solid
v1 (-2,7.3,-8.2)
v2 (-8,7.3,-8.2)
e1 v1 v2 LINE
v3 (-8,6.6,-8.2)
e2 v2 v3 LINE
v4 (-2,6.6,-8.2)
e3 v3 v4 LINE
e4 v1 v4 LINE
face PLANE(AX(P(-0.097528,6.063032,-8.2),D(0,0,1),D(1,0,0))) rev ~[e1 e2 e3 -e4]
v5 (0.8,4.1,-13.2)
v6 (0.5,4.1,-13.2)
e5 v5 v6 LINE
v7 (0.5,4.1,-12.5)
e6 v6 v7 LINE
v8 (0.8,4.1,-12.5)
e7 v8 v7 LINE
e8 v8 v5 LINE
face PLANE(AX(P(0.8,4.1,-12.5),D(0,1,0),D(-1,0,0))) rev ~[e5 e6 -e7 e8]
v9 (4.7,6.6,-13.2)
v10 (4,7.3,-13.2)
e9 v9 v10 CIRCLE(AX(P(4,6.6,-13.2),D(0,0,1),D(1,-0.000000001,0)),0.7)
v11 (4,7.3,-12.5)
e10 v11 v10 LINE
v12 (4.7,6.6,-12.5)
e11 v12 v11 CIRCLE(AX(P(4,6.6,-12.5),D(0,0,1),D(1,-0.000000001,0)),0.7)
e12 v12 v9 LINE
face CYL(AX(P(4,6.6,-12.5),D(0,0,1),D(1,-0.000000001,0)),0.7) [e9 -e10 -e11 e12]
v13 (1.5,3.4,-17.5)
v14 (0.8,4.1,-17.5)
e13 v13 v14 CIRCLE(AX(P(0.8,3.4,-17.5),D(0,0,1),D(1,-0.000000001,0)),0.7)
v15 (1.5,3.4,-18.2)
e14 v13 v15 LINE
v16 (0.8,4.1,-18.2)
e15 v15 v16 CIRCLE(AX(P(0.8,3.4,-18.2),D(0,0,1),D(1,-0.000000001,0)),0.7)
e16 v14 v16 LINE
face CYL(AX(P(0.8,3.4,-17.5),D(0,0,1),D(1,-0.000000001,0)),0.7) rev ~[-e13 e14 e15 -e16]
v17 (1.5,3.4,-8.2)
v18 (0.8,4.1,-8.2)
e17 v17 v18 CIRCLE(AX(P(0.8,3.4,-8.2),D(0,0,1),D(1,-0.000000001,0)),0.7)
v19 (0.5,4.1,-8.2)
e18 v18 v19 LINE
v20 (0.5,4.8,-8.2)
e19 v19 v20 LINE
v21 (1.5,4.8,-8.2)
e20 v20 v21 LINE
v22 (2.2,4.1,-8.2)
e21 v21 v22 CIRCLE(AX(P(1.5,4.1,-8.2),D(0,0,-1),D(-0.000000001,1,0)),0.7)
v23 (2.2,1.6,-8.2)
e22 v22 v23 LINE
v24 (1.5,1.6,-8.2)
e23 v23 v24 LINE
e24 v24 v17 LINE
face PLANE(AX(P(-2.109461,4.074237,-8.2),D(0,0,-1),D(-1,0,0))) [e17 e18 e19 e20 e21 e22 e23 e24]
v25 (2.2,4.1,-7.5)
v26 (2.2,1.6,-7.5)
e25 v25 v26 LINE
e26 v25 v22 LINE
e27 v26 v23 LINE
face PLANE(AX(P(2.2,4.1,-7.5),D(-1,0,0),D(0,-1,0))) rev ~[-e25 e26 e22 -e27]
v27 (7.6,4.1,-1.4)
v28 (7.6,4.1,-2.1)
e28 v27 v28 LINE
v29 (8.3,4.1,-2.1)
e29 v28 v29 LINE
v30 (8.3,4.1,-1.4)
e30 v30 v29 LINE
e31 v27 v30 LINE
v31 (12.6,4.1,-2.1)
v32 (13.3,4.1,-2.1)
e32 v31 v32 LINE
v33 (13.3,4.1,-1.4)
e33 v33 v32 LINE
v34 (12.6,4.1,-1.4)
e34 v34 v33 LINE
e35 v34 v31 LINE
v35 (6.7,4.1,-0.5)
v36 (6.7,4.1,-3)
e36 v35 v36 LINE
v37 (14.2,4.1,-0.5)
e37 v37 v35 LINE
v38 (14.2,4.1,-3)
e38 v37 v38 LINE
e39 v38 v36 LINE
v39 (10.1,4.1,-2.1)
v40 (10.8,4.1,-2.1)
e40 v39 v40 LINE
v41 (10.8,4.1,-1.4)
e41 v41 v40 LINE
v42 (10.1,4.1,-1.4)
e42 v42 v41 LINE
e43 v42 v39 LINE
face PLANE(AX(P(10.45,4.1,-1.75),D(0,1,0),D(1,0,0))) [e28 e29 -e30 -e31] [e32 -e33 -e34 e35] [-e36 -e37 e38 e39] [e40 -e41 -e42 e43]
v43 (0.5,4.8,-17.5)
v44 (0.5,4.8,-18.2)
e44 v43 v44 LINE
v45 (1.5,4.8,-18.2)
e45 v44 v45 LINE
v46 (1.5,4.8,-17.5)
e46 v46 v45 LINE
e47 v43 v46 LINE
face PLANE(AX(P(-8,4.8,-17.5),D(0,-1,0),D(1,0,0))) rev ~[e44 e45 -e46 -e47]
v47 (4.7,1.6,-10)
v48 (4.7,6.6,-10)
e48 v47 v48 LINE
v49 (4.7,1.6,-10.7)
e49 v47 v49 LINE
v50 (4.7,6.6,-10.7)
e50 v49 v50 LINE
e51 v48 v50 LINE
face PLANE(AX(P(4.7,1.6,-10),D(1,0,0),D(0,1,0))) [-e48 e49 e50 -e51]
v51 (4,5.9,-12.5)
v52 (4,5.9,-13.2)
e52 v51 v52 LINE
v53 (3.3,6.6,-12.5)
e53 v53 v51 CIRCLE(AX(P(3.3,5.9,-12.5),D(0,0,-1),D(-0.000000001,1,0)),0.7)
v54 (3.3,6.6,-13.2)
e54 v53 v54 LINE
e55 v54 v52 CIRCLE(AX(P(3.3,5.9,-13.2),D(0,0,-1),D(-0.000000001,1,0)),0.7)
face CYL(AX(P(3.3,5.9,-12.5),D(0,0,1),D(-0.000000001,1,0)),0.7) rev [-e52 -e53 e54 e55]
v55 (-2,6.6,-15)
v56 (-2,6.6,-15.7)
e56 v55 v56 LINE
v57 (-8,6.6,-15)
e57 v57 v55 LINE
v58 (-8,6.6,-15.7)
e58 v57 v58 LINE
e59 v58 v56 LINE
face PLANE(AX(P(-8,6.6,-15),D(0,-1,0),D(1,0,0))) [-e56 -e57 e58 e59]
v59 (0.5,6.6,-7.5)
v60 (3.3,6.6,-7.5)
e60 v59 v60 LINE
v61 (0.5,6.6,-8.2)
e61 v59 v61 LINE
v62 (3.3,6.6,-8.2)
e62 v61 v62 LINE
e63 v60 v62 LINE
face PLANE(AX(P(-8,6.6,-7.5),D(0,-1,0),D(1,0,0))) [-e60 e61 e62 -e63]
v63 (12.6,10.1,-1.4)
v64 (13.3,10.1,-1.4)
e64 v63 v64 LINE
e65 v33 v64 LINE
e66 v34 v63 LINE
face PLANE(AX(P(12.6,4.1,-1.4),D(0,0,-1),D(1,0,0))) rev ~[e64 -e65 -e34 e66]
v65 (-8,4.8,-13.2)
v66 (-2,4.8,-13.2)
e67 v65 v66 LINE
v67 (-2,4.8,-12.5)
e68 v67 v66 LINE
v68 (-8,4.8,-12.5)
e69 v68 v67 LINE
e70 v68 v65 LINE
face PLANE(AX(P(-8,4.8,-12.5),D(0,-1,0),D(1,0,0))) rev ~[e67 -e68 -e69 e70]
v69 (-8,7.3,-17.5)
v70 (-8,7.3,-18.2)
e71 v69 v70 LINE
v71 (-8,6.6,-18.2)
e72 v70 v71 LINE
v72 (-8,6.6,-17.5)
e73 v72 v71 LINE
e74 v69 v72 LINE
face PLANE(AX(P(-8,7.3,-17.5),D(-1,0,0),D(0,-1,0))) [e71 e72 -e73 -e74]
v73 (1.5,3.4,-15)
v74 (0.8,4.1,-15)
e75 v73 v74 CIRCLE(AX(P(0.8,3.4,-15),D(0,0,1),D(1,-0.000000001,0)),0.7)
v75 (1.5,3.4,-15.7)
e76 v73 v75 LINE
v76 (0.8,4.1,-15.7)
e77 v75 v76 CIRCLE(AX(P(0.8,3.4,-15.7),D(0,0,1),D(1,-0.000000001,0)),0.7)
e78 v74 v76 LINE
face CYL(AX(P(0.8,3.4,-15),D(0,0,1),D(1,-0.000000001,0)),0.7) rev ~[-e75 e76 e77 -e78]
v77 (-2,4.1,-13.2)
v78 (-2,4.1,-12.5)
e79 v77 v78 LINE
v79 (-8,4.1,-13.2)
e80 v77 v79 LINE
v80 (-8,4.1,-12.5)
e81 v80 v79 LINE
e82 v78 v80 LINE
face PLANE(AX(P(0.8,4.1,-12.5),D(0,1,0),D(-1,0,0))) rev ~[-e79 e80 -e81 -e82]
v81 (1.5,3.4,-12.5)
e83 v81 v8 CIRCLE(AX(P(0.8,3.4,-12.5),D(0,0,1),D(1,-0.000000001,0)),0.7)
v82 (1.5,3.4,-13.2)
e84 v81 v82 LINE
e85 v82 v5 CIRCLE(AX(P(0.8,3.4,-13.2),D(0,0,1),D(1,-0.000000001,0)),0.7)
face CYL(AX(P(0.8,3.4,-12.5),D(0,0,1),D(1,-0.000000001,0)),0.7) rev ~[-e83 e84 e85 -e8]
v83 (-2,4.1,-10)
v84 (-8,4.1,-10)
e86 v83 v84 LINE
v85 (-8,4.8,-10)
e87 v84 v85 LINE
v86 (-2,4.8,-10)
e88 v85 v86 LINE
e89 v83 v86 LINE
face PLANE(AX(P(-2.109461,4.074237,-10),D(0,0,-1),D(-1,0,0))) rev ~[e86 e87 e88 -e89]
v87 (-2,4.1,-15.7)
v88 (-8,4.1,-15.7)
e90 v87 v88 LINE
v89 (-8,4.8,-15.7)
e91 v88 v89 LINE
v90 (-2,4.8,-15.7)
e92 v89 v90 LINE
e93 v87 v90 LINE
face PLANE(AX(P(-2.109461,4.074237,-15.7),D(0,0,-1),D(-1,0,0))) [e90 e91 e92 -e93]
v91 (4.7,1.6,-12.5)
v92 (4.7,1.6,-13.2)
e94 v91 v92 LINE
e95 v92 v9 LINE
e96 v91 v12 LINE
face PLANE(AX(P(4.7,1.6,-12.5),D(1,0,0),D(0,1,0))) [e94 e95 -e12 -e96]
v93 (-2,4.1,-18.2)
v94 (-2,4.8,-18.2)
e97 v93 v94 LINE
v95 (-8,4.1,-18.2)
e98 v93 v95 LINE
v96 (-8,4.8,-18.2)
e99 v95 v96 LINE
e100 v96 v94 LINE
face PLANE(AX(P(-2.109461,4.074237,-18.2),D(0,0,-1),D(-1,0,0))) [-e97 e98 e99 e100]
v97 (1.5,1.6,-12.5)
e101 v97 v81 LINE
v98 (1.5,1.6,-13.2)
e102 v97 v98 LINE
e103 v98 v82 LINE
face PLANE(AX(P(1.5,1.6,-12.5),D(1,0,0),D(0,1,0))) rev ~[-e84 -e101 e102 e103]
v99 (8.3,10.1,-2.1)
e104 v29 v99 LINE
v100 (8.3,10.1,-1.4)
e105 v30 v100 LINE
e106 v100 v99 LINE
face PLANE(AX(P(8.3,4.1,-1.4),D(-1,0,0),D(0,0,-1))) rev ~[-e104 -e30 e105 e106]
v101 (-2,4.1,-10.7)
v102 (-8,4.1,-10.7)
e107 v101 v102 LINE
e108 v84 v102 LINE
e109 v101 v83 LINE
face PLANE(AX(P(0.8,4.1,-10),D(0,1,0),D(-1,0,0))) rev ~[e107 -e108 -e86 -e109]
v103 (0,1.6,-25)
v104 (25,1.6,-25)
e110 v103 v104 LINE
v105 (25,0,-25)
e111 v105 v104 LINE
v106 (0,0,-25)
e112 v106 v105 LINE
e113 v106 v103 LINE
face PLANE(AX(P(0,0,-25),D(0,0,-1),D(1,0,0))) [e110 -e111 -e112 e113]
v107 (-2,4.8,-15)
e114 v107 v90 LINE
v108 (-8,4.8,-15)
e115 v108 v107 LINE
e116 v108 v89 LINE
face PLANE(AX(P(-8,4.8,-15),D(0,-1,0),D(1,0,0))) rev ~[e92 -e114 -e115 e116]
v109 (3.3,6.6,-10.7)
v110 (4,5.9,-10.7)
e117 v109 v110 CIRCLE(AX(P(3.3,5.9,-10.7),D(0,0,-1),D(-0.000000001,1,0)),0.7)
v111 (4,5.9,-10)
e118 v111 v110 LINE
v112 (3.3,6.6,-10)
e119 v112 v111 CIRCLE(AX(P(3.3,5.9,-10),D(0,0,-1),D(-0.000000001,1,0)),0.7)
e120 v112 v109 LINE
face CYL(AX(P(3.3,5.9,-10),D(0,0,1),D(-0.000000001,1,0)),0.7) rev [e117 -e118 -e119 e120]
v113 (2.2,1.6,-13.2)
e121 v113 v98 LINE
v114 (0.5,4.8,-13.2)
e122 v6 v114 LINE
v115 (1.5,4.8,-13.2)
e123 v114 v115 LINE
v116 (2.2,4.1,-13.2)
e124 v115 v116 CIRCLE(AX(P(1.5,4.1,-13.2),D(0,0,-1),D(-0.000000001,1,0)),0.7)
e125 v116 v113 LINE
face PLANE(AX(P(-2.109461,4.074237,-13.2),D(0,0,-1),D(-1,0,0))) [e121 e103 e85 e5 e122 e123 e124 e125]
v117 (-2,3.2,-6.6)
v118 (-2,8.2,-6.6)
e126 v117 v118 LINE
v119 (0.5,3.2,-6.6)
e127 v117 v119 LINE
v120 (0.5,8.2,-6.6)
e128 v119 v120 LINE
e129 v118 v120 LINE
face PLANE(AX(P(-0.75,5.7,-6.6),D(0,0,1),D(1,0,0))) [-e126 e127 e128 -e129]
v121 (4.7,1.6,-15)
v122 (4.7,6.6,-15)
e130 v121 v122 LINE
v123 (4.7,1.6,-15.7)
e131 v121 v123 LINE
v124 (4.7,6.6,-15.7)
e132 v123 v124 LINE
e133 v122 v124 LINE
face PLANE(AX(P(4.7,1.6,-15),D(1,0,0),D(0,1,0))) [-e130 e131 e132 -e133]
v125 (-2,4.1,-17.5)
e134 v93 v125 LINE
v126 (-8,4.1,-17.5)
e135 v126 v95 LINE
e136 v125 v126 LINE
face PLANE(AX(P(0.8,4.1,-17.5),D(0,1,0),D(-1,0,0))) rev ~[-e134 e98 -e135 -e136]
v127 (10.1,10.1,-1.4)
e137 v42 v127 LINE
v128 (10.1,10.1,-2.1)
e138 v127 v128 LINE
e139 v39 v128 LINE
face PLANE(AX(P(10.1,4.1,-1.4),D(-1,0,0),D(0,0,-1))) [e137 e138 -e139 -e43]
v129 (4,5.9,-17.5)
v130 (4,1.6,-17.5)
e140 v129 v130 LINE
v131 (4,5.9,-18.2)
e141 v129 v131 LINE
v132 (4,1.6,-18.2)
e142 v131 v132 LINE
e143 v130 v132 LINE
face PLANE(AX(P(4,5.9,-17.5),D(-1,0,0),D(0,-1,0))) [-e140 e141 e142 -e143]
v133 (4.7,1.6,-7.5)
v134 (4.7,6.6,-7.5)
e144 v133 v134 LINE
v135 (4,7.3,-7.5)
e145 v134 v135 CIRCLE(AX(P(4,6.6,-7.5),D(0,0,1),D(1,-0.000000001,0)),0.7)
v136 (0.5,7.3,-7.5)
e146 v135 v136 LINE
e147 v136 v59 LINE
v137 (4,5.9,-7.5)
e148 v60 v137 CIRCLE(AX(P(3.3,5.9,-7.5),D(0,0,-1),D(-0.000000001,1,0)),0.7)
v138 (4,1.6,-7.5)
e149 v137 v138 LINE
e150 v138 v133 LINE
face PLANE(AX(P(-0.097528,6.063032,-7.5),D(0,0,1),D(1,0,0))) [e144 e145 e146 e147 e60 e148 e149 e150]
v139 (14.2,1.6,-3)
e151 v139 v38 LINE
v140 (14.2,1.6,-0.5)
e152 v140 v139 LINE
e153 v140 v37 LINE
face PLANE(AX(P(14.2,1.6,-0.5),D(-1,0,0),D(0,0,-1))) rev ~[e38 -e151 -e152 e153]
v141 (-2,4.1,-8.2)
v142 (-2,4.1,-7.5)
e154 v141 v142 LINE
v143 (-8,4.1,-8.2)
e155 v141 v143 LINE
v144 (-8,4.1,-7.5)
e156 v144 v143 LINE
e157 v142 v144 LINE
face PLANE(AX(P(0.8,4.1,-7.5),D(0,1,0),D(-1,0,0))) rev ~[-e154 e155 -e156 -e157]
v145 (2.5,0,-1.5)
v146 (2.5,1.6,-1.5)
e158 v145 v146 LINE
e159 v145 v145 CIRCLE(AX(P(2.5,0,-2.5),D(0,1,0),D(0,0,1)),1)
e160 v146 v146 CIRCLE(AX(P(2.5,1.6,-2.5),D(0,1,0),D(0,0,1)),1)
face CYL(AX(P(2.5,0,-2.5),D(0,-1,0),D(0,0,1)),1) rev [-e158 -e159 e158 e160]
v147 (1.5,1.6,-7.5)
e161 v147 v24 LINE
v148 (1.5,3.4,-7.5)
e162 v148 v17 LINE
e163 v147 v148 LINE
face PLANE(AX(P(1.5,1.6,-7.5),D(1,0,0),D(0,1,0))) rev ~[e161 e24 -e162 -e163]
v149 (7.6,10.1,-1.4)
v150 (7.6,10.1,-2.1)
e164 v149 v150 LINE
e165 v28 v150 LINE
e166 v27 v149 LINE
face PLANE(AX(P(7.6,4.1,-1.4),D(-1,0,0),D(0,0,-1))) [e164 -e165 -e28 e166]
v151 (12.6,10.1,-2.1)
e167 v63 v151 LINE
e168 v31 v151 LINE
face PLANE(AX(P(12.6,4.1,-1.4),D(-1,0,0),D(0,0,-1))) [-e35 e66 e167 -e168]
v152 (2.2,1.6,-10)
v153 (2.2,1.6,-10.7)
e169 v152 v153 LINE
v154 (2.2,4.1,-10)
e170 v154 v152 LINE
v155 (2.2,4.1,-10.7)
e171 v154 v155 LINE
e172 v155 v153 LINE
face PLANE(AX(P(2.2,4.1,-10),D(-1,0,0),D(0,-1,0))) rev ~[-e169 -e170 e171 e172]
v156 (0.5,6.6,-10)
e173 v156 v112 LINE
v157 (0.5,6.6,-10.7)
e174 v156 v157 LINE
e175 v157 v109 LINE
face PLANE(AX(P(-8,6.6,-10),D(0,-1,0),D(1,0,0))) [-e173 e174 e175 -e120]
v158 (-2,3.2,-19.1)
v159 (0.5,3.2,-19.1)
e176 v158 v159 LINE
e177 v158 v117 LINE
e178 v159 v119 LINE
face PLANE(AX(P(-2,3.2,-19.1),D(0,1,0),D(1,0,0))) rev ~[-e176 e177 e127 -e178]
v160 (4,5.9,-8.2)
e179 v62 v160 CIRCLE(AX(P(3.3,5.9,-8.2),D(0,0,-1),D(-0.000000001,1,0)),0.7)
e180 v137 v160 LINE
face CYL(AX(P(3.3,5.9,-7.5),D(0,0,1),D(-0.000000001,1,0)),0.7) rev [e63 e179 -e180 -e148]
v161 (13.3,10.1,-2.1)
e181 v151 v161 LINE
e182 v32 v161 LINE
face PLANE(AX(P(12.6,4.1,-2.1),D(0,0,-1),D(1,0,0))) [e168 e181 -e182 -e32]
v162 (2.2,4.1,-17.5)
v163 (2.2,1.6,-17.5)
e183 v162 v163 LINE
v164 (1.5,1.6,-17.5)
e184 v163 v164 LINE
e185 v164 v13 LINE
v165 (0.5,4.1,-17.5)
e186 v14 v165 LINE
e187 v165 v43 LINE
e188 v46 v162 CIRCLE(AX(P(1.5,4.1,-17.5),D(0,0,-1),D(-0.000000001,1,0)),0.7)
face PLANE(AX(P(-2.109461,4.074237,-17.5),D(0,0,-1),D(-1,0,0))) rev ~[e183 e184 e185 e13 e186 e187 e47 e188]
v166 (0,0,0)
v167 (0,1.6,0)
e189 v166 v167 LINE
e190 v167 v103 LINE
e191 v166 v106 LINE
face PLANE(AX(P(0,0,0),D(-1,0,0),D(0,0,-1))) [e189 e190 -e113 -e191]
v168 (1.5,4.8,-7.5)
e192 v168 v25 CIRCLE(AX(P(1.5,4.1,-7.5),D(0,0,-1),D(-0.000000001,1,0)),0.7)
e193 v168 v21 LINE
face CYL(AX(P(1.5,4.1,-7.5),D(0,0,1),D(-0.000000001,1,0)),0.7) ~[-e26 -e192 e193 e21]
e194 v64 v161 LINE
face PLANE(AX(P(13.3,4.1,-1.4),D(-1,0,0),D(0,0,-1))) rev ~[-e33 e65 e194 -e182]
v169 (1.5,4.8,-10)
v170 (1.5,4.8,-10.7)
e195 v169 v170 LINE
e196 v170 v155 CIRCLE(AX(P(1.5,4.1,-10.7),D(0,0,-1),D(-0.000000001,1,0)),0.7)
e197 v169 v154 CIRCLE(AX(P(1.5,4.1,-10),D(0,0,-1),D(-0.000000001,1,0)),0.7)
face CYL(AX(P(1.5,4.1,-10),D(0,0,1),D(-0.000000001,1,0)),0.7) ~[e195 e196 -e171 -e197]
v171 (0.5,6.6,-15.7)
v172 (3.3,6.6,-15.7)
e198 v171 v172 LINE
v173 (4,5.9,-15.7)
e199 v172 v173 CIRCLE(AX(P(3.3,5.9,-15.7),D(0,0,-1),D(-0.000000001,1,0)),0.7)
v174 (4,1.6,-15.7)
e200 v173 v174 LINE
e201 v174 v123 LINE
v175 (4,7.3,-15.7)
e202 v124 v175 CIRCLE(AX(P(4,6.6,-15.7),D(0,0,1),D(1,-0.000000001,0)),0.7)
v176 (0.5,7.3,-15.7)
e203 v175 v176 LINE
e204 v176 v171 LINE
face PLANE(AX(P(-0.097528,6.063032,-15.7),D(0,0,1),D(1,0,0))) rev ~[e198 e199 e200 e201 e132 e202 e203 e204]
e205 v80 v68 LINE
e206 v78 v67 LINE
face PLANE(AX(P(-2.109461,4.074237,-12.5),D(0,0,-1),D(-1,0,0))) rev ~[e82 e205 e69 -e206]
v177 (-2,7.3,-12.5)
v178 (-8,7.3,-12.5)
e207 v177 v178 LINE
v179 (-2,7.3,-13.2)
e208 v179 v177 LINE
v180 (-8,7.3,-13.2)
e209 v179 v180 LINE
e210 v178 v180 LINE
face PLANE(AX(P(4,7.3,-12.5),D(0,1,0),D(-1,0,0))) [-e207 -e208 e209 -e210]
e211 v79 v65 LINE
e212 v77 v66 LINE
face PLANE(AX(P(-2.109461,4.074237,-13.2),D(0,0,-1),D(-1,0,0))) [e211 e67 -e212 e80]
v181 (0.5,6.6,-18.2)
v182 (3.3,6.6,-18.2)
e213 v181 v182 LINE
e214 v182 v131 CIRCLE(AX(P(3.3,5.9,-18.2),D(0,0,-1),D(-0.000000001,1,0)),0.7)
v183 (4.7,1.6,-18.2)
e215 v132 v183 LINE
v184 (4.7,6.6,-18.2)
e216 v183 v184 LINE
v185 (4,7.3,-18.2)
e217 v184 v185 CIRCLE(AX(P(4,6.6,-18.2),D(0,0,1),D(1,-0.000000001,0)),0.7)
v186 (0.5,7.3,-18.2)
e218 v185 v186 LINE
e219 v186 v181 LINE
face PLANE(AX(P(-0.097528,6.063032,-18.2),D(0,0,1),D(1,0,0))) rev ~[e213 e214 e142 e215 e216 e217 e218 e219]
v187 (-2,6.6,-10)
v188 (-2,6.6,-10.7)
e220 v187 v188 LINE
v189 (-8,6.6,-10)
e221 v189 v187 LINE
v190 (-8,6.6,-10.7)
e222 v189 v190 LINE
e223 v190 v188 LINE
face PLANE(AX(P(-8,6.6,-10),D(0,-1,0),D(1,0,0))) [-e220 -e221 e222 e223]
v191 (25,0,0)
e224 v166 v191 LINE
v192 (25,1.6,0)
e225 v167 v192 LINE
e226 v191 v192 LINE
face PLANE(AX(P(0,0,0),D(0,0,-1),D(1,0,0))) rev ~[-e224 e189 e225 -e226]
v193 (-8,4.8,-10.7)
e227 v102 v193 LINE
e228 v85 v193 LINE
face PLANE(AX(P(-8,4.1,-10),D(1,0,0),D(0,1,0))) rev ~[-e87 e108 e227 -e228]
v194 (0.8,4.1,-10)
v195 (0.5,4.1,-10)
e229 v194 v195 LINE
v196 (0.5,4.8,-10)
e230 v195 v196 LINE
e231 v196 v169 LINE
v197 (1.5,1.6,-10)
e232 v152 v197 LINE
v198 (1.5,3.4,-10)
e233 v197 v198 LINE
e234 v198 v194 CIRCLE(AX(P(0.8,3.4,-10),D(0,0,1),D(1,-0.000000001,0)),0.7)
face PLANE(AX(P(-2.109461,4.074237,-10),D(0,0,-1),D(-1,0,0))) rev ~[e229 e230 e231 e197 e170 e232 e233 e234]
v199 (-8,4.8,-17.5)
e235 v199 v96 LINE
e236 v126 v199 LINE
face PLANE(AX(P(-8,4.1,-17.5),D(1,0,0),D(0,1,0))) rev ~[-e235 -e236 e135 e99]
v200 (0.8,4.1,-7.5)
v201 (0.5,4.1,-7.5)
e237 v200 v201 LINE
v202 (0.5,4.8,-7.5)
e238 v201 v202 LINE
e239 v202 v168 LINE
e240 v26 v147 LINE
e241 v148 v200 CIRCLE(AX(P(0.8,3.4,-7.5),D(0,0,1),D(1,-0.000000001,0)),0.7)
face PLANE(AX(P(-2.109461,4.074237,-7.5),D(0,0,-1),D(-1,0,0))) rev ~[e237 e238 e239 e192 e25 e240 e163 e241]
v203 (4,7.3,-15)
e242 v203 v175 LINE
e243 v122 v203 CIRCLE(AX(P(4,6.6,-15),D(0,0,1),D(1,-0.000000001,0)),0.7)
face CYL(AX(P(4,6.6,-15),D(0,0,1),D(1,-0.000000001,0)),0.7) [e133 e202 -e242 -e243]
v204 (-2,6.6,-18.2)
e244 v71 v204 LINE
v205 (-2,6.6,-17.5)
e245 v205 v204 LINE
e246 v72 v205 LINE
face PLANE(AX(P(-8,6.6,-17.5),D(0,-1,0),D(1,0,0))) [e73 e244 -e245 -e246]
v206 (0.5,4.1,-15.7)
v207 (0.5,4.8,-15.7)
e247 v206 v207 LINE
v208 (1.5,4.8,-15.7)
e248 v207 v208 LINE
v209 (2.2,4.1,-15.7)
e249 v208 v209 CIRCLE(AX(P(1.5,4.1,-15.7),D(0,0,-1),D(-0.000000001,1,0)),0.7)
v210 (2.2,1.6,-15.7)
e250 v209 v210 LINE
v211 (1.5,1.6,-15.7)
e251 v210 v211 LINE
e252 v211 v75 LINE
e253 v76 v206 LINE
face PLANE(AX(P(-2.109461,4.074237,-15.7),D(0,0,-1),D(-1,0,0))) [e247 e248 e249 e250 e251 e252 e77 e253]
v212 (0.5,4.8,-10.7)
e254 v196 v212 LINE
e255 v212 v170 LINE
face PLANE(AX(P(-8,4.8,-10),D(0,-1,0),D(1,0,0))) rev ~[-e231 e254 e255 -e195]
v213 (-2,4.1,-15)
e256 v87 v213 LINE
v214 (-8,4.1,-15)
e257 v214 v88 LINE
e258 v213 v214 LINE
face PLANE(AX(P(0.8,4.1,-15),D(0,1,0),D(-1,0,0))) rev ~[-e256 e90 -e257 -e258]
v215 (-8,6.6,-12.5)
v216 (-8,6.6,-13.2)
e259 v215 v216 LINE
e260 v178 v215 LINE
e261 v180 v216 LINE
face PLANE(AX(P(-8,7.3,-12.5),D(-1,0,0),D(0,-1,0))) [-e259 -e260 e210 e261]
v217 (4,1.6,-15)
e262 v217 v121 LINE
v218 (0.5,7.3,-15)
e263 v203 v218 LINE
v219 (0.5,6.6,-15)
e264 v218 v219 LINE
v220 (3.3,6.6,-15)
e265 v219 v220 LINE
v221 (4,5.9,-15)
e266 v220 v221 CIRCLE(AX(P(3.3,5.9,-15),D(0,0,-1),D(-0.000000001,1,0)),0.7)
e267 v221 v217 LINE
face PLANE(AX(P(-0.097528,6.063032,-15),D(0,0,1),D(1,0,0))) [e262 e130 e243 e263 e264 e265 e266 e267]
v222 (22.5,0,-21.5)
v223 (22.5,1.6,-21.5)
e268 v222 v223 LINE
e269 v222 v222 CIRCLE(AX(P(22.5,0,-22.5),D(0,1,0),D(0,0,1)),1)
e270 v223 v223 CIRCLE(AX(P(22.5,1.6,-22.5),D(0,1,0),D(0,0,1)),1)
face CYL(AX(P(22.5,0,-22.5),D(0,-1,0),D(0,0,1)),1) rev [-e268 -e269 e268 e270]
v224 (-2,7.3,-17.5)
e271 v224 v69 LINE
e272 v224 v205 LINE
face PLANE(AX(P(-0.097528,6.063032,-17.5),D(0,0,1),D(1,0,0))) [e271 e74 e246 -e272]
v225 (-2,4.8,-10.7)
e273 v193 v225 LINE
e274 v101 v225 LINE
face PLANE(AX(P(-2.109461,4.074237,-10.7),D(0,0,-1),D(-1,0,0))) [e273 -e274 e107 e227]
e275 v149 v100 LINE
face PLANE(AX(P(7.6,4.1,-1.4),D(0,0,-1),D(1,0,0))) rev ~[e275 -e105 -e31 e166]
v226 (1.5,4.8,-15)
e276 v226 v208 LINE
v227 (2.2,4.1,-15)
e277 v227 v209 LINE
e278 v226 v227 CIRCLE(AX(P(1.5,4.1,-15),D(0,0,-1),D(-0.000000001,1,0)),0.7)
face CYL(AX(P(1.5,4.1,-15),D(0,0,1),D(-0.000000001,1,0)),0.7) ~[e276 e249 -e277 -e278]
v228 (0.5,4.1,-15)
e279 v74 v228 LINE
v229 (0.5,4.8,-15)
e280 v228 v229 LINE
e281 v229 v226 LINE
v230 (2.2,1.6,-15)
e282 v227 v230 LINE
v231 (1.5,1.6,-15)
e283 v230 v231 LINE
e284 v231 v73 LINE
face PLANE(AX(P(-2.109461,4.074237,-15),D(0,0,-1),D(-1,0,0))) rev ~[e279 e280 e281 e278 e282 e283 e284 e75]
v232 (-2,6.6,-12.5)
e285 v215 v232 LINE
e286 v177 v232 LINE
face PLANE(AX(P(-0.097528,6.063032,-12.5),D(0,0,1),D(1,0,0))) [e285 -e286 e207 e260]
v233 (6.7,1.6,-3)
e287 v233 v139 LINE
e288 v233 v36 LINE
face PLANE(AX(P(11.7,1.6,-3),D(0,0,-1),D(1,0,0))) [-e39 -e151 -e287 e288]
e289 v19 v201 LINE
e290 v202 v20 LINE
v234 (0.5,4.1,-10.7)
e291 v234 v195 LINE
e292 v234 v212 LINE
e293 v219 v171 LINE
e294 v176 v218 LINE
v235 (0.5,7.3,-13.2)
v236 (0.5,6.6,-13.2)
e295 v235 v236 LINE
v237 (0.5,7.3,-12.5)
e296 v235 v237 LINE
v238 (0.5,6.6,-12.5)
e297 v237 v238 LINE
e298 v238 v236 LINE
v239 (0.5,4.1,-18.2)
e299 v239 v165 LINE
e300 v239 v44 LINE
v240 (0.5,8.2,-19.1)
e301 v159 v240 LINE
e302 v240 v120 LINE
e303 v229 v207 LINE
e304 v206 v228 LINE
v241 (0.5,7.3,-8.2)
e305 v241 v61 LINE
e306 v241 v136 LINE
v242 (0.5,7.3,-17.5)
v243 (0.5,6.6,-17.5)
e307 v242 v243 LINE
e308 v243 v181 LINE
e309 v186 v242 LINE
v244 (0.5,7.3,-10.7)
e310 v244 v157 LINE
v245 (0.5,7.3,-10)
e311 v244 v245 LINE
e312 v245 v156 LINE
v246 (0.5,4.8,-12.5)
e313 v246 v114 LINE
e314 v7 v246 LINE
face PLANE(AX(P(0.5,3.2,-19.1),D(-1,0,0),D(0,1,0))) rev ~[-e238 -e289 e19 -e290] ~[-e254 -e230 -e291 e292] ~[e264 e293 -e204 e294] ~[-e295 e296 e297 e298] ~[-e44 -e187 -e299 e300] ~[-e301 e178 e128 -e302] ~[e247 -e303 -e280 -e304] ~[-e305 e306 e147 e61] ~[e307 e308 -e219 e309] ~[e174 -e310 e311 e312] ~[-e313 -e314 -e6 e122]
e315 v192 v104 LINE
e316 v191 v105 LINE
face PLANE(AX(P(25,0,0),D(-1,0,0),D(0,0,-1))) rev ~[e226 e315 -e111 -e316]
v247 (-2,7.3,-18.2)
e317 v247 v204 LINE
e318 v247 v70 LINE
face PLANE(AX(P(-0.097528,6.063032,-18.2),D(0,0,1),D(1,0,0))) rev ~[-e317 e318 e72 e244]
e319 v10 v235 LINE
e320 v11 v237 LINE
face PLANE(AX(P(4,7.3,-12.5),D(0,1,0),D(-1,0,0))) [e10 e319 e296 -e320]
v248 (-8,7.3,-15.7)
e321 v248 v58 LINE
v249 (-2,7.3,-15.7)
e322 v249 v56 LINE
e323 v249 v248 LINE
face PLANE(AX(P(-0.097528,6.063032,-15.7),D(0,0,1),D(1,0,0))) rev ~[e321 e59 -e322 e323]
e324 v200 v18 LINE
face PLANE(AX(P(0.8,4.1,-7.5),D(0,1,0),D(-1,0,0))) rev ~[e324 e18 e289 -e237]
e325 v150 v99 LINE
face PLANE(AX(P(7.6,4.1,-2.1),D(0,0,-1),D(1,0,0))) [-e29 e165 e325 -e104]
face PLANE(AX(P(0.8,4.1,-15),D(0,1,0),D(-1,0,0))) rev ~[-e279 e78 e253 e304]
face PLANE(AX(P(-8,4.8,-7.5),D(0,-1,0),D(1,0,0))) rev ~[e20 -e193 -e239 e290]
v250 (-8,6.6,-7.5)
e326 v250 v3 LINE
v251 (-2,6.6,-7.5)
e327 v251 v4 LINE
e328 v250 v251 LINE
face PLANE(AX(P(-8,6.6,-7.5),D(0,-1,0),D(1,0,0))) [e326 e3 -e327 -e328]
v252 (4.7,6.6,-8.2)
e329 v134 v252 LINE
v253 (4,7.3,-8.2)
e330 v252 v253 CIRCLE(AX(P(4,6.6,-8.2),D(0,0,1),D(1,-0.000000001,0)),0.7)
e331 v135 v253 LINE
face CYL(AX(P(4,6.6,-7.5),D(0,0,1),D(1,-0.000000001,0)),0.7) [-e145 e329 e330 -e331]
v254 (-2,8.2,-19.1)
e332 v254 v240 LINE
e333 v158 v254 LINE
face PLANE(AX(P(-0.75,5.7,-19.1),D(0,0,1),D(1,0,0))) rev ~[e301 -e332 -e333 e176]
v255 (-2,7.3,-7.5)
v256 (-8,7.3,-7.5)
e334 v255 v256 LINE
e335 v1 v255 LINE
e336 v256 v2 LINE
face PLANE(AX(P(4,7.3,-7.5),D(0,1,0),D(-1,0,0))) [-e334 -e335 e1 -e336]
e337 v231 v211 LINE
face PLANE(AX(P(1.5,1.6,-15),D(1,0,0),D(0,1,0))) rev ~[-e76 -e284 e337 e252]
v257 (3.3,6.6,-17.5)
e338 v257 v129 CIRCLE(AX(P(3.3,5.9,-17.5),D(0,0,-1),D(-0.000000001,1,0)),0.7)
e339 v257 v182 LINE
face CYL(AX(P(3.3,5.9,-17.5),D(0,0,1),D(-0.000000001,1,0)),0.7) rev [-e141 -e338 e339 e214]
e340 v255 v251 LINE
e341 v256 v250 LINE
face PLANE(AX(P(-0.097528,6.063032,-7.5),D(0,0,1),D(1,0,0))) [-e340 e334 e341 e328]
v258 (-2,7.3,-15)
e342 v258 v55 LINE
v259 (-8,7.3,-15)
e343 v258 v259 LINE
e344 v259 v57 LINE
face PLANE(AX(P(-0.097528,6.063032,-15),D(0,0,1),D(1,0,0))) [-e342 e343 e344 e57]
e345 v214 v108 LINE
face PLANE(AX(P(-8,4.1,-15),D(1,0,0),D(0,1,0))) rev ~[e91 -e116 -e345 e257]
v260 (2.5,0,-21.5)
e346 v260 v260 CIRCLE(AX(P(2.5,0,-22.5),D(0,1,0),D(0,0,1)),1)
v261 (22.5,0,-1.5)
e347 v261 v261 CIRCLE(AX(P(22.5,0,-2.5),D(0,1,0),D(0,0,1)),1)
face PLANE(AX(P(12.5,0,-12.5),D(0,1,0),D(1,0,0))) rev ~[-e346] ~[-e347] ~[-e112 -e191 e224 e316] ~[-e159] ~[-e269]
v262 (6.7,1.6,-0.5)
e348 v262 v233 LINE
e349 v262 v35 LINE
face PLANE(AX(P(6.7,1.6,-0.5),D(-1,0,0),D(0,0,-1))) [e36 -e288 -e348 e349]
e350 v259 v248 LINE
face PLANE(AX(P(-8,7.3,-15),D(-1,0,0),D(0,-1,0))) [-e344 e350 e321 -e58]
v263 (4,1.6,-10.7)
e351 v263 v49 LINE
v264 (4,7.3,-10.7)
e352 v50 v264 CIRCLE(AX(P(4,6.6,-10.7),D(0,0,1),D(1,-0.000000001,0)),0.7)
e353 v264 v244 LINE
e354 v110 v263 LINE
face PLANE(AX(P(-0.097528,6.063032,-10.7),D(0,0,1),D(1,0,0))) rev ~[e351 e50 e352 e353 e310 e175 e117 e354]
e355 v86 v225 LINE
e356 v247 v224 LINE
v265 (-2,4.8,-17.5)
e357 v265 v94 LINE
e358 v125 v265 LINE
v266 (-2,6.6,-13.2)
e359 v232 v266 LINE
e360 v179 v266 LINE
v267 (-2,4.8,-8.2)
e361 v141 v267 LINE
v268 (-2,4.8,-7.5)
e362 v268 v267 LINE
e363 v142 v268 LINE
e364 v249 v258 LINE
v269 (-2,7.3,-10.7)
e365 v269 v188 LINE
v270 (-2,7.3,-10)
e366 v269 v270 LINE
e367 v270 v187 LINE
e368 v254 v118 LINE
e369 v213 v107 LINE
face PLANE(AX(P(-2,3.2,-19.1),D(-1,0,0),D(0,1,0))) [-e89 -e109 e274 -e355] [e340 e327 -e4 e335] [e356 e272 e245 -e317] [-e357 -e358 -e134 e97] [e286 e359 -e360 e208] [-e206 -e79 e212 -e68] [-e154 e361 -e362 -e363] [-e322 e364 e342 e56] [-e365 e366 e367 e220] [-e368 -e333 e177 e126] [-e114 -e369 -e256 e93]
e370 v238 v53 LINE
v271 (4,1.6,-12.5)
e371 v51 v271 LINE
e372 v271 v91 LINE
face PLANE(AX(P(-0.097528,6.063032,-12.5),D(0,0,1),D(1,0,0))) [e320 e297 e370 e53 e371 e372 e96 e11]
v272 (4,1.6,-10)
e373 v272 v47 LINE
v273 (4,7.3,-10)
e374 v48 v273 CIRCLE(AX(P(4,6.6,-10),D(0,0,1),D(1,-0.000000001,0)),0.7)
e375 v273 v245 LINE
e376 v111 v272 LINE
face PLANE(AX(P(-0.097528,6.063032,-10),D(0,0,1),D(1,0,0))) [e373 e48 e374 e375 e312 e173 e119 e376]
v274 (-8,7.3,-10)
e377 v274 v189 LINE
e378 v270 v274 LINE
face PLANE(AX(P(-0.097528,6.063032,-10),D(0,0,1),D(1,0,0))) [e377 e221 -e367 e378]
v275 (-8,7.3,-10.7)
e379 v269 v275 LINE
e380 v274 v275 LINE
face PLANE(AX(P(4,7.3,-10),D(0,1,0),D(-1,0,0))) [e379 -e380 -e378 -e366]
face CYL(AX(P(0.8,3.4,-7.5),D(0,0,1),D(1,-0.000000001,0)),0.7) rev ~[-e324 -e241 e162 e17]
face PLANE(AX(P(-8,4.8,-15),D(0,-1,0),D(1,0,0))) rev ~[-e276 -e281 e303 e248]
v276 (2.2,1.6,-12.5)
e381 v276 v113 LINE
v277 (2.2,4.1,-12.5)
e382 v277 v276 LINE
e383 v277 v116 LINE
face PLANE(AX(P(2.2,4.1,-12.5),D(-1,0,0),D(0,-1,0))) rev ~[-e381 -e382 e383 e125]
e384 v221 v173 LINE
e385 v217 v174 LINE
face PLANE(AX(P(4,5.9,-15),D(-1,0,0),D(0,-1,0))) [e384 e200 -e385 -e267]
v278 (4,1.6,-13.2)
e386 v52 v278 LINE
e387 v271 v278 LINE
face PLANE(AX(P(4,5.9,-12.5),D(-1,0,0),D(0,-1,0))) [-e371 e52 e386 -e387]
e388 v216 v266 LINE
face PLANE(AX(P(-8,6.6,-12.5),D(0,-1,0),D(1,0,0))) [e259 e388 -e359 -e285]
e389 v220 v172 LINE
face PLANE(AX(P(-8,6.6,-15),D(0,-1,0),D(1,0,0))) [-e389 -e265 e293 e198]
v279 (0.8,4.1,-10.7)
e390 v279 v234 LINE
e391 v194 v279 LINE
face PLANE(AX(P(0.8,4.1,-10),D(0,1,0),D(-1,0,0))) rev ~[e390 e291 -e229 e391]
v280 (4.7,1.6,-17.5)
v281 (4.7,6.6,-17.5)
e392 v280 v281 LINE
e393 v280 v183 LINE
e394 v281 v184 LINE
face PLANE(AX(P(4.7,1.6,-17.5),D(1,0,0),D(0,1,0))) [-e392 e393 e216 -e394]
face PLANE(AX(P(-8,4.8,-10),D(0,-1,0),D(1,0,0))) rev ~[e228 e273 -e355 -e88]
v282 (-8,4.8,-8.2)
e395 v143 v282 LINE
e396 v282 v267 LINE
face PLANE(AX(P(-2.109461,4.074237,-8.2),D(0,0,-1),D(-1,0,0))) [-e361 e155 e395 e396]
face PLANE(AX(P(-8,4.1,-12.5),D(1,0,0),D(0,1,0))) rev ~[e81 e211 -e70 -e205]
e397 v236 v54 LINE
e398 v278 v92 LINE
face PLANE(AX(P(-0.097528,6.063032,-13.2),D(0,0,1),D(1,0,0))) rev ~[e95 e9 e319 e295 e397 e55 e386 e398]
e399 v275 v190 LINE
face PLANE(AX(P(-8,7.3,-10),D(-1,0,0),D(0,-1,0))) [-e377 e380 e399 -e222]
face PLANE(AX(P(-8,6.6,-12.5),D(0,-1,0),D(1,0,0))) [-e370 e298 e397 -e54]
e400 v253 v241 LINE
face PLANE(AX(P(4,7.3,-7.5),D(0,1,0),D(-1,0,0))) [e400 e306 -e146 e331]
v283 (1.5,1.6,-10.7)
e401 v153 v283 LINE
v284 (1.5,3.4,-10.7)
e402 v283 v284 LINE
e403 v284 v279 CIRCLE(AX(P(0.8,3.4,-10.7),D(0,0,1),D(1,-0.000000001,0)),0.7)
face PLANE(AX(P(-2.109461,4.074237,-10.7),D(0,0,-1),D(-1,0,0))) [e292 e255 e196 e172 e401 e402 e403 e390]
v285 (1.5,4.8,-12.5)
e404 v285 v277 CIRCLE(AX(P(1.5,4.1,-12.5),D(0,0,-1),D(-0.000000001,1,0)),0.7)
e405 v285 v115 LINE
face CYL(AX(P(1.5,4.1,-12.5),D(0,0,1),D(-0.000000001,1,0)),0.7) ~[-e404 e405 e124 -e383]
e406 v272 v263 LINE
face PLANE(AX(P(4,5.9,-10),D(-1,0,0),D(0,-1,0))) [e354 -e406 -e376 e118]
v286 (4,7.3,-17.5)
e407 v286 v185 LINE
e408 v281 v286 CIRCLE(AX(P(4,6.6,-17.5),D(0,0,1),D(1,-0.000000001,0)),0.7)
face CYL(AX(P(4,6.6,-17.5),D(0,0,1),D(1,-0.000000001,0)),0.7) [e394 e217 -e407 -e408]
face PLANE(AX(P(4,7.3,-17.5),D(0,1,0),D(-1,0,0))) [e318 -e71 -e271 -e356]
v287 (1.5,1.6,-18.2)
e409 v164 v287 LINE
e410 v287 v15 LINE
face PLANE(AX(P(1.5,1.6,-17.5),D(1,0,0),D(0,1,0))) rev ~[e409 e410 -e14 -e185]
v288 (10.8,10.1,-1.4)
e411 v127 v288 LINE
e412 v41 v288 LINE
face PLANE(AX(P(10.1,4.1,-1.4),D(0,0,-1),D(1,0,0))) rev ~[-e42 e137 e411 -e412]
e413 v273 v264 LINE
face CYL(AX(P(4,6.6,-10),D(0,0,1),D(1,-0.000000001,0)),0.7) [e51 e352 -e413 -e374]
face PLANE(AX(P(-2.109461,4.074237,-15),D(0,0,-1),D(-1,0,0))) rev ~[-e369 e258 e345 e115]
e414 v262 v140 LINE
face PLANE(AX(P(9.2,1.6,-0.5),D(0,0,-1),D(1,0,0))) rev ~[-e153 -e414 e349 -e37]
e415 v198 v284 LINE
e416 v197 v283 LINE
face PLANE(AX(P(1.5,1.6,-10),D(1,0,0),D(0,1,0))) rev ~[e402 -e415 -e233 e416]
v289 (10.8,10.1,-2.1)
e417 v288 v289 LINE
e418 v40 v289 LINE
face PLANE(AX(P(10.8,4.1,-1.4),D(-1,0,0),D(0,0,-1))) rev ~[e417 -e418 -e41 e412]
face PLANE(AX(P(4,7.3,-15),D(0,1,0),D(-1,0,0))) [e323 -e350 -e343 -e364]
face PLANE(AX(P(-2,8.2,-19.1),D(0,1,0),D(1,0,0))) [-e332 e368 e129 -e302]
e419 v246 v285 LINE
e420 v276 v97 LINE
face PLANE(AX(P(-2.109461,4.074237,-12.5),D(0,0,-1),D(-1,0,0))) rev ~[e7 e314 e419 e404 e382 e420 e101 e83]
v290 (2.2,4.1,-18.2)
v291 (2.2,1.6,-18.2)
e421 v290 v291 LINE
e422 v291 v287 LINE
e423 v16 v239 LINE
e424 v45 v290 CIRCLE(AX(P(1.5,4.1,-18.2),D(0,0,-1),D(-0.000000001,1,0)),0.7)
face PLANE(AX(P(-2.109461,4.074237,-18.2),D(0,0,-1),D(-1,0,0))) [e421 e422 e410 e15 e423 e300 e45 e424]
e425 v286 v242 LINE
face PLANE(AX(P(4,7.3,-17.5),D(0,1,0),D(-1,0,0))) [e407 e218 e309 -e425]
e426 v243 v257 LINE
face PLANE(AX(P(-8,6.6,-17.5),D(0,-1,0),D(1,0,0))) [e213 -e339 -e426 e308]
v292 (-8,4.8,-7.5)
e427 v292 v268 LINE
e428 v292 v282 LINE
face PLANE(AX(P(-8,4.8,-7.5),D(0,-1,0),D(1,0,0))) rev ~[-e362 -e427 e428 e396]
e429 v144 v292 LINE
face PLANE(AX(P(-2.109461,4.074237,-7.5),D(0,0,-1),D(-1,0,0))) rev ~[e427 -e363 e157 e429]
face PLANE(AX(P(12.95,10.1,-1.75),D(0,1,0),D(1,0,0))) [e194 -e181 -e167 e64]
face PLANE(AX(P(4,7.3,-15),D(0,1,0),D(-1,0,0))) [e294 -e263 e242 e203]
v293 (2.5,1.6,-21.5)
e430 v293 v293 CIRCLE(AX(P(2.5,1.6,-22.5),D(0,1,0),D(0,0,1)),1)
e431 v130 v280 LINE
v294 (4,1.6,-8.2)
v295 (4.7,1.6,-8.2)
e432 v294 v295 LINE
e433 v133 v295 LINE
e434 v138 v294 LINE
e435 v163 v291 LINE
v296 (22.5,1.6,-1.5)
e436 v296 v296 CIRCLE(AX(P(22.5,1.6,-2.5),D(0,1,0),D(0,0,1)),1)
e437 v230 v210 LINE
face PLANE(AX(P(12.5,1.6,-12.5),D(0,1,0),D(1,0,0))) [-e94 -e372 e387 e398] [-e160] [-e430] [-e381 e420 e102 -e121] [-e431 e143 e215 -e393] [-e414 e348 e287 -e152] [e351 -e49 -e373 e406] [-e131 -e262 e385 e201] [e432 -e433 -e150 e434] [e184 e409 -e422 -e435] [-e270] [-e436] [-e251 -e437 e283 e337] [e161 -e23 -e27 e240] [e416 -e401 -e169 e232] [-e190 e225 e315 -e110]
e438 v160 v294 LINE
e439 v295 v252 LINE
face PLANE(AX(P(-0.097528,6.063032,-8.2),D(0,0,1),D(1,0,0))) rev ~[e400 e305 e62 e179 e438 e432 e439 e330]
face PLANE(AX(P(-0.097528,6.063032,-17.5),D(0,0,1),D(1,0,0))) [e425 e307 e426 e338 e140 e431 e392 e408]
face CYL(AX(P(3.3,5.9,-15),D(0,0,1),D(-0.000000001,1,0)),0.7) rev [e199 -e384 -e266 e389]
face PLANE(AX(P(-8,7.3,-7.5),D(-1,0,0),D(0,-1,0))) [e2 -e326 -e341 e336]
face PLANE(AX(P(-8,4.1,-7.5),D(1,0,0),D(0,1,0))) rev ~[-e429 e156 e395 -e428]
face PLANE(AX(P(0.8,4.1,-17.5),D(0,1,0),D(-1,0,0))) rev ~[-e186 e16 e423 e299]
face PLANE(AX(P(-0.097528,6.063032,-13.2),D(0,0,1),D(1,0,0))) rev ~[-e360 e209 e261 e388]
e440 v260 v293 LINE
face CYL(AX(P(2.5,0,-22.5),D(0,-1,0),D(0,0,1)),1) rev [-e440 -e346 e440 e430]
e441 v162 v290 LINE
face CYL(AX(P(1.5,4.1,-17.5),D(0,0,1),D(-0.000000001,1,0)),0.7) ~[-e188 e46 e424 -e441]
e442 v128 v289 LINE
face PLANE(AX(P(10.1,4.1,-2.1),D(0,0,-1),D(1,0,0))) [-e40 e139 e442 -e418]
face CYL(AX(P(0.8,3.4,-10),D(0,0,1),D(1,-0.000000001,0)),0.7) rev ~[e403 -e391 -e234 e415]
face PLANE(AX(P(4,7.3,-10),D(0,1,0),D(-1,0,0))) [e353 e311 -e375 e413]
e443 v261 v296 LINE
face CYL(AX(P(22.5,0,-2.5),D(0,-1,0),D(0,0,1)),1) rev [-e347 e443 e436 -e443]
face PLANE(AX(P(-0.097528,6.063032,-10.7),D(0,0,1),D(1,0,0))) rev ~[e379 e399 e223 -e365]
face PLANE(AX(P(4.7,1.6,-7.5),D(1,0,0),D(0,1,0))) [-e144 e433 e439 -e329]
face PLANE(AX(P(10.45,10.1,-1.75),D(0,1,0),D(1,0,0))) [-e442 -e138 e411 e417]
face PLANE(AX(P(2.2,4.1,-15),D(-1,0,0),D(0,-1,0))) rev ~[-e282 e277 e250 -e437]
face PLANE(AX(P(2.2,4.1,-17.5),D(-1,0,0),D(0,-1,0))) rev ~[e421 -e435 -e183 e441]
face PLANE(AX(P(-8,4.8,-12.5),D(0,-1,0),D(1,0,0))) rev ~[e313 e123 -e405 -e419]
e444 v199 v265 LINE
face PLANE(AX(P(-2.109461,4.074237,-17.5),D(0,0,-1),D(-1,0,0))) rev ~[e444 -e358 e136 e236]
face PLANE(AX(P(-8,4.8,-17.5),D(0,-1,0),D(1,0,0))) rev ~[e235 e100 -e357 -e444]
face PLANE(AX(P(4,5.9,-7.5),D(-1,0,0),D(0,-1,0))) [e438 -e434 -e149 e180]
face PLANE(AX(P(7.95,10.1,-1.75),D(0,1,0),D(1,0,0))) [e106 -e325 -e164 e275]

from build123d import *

# Parameters (mm, degrees)
SKETCH1_W                = 25
SKETCH1_H                = 25
SKETCH1_R                = 1
BOSS_EXTRUDE1_DEPTH      = 1.6
BOSS_EXTRUDE2_START      = -7.5
BOSS_EXTRUDE2_DEPTH      = 0.7
LPATTERN1_COUNT          = 5
LPATTERN1_PITCH          = 2.5
BOSS_EXTRUDE3_DEPTH      = 0.9
BOSS_EXTRUDE3_DEPTH_BACK = 11.6
SKETCH4_W                = 2.5
SKETCH4_H                = 5
SKETCH5_W                = 2.5
SKETCH5_H                = 2.5
BOSS_EXTRUDE4_DEPTH      = 2.5
SKETCH6_W                = 0.7
SKETCH6_H                = 0.7
BOSS_EXTRUDE5_DEPTH      = 6
LPATTERN2_COUNT          = 3
LPATTERN2_PITCH          = 2.5


with BuildPart() as part:
    # Sketch1 → Boss-Extrude1 (new body)
    with BuildSketch(Plane(origin=(0, 0, 0), x_dir=(1, 0, 0), z_dir=(0, 1, 0))):
        with Locations((12.5, 12.5)):
            Rectangle(SKETCH1_W, SKETCH1_H)
        with Locations(Location((2.5, 22.5, 0), (0, 0, 270))):
            Circle(SKETCH1_R, mode=Mode.SUBTRACT)
        with Locations(Location((22.5, 22.5, 0), (0, 0, 270))):
            Circle(SKETCH1_R, mode=Mode.SUBTRACT)
        with Locations(Location((22.5, 2.5, 0), (0, 0, 270))):
            Circle(SKETCH1_R, mode=Mode.SUBTRACT)
        with Locations(Location((2.5, 2.5, 0), (0, 0, 270))):
            Circle(SKETCH1_R, mode=Mode.SUBTRACT)
    extrude(amount=BOSS_EXTRUDE1_DEPTH)

    # Sketch3 → Boss-Extrude2 (add)
    with BuildSketch(Plane.XY.offset(BOSS_EXTRUDE2_START)):
        with BuildLine():
            Line((1.5, 1.6), (1.5, 3.4))
            ThreePointArc((1.5, 3.4), (1.294974747, 3.894974747), (0.8, 4.1))
            Line((0.8, 4.1), (-8, 4.1))
            Line((-8, 4.1), (-8, 4.8))
            Line((-8, 4.8), (1.5, 4.8))
            ThreePointArc((1.5, 4.8), (1.994974747, 4.594974747), (2.2, 4.1))
            Line((2.2, 4.1), (2.2, 1.6))
            Line((2.2, 1.6), (1.5, 1.6))
        make_face()
        with BuildLine():
            Line((4, 1.6), (4.7, 1.6))
            Line((4.7, 1.6), (4.7, 6.6))
            ThreePointArc((4.7, 6.6), (4.494974747, 7.094974747), (4, 7.3))
            Line((4, 7.3), (-8, 7.3))
            Line((-8, 7.3), (-8, 6.6))
            Line((-8, 6.6), (3.3, 6.6))
            ThreePointArc((3.3, 6.6), (3.794974747, 6.394974747), (4, 5.9))
            Line((4, 5.9), (4, 1.6))
        make_face()
    boss_extrude2 = extrude(amount=-BOSS_EXTRUDE2_DEPTH)

    # LPattern1: Boss-Extrude2 ×5
    with Locations(*[(0, 0, -i * LPATTERN1_PITCH) for i in range(1, LPATTERN1_COUNT)]):
        add(boss_extrude2)

    # Sketch4 → Boss-Extrude3 (add, two sides: drawn at the far end of the back side and taken through both)
    with BuildSketch(Plane.XY.offset(-7.5).offset(-BOSS_EXTRUDE3_DEPTH_BACK)):
        with Locations((-0.75, 5.7)):
            Rectangle(SKETCH4_W, SKETCH4_H)
    extrude(amount=BOSS_EXTRUDE3_DEPTH + BOSS_EXTRUDE3_DEPTH_BACK)

    # Sketch5 → Boss-Extrude4 (add)
    with BuildSketch(Plane(origin=(0, 1.6, 0), x_dir=(1, 0, 0), z_dir=(0, 1, 0))):
        with Locations((7.95, 1.75)):
            Rectangle(SKETCH5_W, SKETCH5_H)
    boss_extrude4 = extrude(amount=BOSS_EXTRUDE4_DEPTH)

    # Sketch6 → Boss-Extrude5 (add)
    with BuildSketch(Plane(origin=(0, 4.1, 0), x_dir=(1, 0, 0), z_dir=(0, 1, 0))):
        with Locations((7.95, 1.75)):
            Rectangle(SKETCH6_W, SKETCH6_H)
    boss_extrude5 = extrude(amount=BOSS_EXTRUDE5_DEPTH)

    # LPattern2: Boss-Extrude4, Boss-Extrude5 ×3
    with Locations(*[(i * LPATTERN2_PITCH, 0, 0) for i in range(1, LPATTERN2_COUNT)]):
        add(boss_extrude4)
        add(boss_extrude5)


solid = part.part
